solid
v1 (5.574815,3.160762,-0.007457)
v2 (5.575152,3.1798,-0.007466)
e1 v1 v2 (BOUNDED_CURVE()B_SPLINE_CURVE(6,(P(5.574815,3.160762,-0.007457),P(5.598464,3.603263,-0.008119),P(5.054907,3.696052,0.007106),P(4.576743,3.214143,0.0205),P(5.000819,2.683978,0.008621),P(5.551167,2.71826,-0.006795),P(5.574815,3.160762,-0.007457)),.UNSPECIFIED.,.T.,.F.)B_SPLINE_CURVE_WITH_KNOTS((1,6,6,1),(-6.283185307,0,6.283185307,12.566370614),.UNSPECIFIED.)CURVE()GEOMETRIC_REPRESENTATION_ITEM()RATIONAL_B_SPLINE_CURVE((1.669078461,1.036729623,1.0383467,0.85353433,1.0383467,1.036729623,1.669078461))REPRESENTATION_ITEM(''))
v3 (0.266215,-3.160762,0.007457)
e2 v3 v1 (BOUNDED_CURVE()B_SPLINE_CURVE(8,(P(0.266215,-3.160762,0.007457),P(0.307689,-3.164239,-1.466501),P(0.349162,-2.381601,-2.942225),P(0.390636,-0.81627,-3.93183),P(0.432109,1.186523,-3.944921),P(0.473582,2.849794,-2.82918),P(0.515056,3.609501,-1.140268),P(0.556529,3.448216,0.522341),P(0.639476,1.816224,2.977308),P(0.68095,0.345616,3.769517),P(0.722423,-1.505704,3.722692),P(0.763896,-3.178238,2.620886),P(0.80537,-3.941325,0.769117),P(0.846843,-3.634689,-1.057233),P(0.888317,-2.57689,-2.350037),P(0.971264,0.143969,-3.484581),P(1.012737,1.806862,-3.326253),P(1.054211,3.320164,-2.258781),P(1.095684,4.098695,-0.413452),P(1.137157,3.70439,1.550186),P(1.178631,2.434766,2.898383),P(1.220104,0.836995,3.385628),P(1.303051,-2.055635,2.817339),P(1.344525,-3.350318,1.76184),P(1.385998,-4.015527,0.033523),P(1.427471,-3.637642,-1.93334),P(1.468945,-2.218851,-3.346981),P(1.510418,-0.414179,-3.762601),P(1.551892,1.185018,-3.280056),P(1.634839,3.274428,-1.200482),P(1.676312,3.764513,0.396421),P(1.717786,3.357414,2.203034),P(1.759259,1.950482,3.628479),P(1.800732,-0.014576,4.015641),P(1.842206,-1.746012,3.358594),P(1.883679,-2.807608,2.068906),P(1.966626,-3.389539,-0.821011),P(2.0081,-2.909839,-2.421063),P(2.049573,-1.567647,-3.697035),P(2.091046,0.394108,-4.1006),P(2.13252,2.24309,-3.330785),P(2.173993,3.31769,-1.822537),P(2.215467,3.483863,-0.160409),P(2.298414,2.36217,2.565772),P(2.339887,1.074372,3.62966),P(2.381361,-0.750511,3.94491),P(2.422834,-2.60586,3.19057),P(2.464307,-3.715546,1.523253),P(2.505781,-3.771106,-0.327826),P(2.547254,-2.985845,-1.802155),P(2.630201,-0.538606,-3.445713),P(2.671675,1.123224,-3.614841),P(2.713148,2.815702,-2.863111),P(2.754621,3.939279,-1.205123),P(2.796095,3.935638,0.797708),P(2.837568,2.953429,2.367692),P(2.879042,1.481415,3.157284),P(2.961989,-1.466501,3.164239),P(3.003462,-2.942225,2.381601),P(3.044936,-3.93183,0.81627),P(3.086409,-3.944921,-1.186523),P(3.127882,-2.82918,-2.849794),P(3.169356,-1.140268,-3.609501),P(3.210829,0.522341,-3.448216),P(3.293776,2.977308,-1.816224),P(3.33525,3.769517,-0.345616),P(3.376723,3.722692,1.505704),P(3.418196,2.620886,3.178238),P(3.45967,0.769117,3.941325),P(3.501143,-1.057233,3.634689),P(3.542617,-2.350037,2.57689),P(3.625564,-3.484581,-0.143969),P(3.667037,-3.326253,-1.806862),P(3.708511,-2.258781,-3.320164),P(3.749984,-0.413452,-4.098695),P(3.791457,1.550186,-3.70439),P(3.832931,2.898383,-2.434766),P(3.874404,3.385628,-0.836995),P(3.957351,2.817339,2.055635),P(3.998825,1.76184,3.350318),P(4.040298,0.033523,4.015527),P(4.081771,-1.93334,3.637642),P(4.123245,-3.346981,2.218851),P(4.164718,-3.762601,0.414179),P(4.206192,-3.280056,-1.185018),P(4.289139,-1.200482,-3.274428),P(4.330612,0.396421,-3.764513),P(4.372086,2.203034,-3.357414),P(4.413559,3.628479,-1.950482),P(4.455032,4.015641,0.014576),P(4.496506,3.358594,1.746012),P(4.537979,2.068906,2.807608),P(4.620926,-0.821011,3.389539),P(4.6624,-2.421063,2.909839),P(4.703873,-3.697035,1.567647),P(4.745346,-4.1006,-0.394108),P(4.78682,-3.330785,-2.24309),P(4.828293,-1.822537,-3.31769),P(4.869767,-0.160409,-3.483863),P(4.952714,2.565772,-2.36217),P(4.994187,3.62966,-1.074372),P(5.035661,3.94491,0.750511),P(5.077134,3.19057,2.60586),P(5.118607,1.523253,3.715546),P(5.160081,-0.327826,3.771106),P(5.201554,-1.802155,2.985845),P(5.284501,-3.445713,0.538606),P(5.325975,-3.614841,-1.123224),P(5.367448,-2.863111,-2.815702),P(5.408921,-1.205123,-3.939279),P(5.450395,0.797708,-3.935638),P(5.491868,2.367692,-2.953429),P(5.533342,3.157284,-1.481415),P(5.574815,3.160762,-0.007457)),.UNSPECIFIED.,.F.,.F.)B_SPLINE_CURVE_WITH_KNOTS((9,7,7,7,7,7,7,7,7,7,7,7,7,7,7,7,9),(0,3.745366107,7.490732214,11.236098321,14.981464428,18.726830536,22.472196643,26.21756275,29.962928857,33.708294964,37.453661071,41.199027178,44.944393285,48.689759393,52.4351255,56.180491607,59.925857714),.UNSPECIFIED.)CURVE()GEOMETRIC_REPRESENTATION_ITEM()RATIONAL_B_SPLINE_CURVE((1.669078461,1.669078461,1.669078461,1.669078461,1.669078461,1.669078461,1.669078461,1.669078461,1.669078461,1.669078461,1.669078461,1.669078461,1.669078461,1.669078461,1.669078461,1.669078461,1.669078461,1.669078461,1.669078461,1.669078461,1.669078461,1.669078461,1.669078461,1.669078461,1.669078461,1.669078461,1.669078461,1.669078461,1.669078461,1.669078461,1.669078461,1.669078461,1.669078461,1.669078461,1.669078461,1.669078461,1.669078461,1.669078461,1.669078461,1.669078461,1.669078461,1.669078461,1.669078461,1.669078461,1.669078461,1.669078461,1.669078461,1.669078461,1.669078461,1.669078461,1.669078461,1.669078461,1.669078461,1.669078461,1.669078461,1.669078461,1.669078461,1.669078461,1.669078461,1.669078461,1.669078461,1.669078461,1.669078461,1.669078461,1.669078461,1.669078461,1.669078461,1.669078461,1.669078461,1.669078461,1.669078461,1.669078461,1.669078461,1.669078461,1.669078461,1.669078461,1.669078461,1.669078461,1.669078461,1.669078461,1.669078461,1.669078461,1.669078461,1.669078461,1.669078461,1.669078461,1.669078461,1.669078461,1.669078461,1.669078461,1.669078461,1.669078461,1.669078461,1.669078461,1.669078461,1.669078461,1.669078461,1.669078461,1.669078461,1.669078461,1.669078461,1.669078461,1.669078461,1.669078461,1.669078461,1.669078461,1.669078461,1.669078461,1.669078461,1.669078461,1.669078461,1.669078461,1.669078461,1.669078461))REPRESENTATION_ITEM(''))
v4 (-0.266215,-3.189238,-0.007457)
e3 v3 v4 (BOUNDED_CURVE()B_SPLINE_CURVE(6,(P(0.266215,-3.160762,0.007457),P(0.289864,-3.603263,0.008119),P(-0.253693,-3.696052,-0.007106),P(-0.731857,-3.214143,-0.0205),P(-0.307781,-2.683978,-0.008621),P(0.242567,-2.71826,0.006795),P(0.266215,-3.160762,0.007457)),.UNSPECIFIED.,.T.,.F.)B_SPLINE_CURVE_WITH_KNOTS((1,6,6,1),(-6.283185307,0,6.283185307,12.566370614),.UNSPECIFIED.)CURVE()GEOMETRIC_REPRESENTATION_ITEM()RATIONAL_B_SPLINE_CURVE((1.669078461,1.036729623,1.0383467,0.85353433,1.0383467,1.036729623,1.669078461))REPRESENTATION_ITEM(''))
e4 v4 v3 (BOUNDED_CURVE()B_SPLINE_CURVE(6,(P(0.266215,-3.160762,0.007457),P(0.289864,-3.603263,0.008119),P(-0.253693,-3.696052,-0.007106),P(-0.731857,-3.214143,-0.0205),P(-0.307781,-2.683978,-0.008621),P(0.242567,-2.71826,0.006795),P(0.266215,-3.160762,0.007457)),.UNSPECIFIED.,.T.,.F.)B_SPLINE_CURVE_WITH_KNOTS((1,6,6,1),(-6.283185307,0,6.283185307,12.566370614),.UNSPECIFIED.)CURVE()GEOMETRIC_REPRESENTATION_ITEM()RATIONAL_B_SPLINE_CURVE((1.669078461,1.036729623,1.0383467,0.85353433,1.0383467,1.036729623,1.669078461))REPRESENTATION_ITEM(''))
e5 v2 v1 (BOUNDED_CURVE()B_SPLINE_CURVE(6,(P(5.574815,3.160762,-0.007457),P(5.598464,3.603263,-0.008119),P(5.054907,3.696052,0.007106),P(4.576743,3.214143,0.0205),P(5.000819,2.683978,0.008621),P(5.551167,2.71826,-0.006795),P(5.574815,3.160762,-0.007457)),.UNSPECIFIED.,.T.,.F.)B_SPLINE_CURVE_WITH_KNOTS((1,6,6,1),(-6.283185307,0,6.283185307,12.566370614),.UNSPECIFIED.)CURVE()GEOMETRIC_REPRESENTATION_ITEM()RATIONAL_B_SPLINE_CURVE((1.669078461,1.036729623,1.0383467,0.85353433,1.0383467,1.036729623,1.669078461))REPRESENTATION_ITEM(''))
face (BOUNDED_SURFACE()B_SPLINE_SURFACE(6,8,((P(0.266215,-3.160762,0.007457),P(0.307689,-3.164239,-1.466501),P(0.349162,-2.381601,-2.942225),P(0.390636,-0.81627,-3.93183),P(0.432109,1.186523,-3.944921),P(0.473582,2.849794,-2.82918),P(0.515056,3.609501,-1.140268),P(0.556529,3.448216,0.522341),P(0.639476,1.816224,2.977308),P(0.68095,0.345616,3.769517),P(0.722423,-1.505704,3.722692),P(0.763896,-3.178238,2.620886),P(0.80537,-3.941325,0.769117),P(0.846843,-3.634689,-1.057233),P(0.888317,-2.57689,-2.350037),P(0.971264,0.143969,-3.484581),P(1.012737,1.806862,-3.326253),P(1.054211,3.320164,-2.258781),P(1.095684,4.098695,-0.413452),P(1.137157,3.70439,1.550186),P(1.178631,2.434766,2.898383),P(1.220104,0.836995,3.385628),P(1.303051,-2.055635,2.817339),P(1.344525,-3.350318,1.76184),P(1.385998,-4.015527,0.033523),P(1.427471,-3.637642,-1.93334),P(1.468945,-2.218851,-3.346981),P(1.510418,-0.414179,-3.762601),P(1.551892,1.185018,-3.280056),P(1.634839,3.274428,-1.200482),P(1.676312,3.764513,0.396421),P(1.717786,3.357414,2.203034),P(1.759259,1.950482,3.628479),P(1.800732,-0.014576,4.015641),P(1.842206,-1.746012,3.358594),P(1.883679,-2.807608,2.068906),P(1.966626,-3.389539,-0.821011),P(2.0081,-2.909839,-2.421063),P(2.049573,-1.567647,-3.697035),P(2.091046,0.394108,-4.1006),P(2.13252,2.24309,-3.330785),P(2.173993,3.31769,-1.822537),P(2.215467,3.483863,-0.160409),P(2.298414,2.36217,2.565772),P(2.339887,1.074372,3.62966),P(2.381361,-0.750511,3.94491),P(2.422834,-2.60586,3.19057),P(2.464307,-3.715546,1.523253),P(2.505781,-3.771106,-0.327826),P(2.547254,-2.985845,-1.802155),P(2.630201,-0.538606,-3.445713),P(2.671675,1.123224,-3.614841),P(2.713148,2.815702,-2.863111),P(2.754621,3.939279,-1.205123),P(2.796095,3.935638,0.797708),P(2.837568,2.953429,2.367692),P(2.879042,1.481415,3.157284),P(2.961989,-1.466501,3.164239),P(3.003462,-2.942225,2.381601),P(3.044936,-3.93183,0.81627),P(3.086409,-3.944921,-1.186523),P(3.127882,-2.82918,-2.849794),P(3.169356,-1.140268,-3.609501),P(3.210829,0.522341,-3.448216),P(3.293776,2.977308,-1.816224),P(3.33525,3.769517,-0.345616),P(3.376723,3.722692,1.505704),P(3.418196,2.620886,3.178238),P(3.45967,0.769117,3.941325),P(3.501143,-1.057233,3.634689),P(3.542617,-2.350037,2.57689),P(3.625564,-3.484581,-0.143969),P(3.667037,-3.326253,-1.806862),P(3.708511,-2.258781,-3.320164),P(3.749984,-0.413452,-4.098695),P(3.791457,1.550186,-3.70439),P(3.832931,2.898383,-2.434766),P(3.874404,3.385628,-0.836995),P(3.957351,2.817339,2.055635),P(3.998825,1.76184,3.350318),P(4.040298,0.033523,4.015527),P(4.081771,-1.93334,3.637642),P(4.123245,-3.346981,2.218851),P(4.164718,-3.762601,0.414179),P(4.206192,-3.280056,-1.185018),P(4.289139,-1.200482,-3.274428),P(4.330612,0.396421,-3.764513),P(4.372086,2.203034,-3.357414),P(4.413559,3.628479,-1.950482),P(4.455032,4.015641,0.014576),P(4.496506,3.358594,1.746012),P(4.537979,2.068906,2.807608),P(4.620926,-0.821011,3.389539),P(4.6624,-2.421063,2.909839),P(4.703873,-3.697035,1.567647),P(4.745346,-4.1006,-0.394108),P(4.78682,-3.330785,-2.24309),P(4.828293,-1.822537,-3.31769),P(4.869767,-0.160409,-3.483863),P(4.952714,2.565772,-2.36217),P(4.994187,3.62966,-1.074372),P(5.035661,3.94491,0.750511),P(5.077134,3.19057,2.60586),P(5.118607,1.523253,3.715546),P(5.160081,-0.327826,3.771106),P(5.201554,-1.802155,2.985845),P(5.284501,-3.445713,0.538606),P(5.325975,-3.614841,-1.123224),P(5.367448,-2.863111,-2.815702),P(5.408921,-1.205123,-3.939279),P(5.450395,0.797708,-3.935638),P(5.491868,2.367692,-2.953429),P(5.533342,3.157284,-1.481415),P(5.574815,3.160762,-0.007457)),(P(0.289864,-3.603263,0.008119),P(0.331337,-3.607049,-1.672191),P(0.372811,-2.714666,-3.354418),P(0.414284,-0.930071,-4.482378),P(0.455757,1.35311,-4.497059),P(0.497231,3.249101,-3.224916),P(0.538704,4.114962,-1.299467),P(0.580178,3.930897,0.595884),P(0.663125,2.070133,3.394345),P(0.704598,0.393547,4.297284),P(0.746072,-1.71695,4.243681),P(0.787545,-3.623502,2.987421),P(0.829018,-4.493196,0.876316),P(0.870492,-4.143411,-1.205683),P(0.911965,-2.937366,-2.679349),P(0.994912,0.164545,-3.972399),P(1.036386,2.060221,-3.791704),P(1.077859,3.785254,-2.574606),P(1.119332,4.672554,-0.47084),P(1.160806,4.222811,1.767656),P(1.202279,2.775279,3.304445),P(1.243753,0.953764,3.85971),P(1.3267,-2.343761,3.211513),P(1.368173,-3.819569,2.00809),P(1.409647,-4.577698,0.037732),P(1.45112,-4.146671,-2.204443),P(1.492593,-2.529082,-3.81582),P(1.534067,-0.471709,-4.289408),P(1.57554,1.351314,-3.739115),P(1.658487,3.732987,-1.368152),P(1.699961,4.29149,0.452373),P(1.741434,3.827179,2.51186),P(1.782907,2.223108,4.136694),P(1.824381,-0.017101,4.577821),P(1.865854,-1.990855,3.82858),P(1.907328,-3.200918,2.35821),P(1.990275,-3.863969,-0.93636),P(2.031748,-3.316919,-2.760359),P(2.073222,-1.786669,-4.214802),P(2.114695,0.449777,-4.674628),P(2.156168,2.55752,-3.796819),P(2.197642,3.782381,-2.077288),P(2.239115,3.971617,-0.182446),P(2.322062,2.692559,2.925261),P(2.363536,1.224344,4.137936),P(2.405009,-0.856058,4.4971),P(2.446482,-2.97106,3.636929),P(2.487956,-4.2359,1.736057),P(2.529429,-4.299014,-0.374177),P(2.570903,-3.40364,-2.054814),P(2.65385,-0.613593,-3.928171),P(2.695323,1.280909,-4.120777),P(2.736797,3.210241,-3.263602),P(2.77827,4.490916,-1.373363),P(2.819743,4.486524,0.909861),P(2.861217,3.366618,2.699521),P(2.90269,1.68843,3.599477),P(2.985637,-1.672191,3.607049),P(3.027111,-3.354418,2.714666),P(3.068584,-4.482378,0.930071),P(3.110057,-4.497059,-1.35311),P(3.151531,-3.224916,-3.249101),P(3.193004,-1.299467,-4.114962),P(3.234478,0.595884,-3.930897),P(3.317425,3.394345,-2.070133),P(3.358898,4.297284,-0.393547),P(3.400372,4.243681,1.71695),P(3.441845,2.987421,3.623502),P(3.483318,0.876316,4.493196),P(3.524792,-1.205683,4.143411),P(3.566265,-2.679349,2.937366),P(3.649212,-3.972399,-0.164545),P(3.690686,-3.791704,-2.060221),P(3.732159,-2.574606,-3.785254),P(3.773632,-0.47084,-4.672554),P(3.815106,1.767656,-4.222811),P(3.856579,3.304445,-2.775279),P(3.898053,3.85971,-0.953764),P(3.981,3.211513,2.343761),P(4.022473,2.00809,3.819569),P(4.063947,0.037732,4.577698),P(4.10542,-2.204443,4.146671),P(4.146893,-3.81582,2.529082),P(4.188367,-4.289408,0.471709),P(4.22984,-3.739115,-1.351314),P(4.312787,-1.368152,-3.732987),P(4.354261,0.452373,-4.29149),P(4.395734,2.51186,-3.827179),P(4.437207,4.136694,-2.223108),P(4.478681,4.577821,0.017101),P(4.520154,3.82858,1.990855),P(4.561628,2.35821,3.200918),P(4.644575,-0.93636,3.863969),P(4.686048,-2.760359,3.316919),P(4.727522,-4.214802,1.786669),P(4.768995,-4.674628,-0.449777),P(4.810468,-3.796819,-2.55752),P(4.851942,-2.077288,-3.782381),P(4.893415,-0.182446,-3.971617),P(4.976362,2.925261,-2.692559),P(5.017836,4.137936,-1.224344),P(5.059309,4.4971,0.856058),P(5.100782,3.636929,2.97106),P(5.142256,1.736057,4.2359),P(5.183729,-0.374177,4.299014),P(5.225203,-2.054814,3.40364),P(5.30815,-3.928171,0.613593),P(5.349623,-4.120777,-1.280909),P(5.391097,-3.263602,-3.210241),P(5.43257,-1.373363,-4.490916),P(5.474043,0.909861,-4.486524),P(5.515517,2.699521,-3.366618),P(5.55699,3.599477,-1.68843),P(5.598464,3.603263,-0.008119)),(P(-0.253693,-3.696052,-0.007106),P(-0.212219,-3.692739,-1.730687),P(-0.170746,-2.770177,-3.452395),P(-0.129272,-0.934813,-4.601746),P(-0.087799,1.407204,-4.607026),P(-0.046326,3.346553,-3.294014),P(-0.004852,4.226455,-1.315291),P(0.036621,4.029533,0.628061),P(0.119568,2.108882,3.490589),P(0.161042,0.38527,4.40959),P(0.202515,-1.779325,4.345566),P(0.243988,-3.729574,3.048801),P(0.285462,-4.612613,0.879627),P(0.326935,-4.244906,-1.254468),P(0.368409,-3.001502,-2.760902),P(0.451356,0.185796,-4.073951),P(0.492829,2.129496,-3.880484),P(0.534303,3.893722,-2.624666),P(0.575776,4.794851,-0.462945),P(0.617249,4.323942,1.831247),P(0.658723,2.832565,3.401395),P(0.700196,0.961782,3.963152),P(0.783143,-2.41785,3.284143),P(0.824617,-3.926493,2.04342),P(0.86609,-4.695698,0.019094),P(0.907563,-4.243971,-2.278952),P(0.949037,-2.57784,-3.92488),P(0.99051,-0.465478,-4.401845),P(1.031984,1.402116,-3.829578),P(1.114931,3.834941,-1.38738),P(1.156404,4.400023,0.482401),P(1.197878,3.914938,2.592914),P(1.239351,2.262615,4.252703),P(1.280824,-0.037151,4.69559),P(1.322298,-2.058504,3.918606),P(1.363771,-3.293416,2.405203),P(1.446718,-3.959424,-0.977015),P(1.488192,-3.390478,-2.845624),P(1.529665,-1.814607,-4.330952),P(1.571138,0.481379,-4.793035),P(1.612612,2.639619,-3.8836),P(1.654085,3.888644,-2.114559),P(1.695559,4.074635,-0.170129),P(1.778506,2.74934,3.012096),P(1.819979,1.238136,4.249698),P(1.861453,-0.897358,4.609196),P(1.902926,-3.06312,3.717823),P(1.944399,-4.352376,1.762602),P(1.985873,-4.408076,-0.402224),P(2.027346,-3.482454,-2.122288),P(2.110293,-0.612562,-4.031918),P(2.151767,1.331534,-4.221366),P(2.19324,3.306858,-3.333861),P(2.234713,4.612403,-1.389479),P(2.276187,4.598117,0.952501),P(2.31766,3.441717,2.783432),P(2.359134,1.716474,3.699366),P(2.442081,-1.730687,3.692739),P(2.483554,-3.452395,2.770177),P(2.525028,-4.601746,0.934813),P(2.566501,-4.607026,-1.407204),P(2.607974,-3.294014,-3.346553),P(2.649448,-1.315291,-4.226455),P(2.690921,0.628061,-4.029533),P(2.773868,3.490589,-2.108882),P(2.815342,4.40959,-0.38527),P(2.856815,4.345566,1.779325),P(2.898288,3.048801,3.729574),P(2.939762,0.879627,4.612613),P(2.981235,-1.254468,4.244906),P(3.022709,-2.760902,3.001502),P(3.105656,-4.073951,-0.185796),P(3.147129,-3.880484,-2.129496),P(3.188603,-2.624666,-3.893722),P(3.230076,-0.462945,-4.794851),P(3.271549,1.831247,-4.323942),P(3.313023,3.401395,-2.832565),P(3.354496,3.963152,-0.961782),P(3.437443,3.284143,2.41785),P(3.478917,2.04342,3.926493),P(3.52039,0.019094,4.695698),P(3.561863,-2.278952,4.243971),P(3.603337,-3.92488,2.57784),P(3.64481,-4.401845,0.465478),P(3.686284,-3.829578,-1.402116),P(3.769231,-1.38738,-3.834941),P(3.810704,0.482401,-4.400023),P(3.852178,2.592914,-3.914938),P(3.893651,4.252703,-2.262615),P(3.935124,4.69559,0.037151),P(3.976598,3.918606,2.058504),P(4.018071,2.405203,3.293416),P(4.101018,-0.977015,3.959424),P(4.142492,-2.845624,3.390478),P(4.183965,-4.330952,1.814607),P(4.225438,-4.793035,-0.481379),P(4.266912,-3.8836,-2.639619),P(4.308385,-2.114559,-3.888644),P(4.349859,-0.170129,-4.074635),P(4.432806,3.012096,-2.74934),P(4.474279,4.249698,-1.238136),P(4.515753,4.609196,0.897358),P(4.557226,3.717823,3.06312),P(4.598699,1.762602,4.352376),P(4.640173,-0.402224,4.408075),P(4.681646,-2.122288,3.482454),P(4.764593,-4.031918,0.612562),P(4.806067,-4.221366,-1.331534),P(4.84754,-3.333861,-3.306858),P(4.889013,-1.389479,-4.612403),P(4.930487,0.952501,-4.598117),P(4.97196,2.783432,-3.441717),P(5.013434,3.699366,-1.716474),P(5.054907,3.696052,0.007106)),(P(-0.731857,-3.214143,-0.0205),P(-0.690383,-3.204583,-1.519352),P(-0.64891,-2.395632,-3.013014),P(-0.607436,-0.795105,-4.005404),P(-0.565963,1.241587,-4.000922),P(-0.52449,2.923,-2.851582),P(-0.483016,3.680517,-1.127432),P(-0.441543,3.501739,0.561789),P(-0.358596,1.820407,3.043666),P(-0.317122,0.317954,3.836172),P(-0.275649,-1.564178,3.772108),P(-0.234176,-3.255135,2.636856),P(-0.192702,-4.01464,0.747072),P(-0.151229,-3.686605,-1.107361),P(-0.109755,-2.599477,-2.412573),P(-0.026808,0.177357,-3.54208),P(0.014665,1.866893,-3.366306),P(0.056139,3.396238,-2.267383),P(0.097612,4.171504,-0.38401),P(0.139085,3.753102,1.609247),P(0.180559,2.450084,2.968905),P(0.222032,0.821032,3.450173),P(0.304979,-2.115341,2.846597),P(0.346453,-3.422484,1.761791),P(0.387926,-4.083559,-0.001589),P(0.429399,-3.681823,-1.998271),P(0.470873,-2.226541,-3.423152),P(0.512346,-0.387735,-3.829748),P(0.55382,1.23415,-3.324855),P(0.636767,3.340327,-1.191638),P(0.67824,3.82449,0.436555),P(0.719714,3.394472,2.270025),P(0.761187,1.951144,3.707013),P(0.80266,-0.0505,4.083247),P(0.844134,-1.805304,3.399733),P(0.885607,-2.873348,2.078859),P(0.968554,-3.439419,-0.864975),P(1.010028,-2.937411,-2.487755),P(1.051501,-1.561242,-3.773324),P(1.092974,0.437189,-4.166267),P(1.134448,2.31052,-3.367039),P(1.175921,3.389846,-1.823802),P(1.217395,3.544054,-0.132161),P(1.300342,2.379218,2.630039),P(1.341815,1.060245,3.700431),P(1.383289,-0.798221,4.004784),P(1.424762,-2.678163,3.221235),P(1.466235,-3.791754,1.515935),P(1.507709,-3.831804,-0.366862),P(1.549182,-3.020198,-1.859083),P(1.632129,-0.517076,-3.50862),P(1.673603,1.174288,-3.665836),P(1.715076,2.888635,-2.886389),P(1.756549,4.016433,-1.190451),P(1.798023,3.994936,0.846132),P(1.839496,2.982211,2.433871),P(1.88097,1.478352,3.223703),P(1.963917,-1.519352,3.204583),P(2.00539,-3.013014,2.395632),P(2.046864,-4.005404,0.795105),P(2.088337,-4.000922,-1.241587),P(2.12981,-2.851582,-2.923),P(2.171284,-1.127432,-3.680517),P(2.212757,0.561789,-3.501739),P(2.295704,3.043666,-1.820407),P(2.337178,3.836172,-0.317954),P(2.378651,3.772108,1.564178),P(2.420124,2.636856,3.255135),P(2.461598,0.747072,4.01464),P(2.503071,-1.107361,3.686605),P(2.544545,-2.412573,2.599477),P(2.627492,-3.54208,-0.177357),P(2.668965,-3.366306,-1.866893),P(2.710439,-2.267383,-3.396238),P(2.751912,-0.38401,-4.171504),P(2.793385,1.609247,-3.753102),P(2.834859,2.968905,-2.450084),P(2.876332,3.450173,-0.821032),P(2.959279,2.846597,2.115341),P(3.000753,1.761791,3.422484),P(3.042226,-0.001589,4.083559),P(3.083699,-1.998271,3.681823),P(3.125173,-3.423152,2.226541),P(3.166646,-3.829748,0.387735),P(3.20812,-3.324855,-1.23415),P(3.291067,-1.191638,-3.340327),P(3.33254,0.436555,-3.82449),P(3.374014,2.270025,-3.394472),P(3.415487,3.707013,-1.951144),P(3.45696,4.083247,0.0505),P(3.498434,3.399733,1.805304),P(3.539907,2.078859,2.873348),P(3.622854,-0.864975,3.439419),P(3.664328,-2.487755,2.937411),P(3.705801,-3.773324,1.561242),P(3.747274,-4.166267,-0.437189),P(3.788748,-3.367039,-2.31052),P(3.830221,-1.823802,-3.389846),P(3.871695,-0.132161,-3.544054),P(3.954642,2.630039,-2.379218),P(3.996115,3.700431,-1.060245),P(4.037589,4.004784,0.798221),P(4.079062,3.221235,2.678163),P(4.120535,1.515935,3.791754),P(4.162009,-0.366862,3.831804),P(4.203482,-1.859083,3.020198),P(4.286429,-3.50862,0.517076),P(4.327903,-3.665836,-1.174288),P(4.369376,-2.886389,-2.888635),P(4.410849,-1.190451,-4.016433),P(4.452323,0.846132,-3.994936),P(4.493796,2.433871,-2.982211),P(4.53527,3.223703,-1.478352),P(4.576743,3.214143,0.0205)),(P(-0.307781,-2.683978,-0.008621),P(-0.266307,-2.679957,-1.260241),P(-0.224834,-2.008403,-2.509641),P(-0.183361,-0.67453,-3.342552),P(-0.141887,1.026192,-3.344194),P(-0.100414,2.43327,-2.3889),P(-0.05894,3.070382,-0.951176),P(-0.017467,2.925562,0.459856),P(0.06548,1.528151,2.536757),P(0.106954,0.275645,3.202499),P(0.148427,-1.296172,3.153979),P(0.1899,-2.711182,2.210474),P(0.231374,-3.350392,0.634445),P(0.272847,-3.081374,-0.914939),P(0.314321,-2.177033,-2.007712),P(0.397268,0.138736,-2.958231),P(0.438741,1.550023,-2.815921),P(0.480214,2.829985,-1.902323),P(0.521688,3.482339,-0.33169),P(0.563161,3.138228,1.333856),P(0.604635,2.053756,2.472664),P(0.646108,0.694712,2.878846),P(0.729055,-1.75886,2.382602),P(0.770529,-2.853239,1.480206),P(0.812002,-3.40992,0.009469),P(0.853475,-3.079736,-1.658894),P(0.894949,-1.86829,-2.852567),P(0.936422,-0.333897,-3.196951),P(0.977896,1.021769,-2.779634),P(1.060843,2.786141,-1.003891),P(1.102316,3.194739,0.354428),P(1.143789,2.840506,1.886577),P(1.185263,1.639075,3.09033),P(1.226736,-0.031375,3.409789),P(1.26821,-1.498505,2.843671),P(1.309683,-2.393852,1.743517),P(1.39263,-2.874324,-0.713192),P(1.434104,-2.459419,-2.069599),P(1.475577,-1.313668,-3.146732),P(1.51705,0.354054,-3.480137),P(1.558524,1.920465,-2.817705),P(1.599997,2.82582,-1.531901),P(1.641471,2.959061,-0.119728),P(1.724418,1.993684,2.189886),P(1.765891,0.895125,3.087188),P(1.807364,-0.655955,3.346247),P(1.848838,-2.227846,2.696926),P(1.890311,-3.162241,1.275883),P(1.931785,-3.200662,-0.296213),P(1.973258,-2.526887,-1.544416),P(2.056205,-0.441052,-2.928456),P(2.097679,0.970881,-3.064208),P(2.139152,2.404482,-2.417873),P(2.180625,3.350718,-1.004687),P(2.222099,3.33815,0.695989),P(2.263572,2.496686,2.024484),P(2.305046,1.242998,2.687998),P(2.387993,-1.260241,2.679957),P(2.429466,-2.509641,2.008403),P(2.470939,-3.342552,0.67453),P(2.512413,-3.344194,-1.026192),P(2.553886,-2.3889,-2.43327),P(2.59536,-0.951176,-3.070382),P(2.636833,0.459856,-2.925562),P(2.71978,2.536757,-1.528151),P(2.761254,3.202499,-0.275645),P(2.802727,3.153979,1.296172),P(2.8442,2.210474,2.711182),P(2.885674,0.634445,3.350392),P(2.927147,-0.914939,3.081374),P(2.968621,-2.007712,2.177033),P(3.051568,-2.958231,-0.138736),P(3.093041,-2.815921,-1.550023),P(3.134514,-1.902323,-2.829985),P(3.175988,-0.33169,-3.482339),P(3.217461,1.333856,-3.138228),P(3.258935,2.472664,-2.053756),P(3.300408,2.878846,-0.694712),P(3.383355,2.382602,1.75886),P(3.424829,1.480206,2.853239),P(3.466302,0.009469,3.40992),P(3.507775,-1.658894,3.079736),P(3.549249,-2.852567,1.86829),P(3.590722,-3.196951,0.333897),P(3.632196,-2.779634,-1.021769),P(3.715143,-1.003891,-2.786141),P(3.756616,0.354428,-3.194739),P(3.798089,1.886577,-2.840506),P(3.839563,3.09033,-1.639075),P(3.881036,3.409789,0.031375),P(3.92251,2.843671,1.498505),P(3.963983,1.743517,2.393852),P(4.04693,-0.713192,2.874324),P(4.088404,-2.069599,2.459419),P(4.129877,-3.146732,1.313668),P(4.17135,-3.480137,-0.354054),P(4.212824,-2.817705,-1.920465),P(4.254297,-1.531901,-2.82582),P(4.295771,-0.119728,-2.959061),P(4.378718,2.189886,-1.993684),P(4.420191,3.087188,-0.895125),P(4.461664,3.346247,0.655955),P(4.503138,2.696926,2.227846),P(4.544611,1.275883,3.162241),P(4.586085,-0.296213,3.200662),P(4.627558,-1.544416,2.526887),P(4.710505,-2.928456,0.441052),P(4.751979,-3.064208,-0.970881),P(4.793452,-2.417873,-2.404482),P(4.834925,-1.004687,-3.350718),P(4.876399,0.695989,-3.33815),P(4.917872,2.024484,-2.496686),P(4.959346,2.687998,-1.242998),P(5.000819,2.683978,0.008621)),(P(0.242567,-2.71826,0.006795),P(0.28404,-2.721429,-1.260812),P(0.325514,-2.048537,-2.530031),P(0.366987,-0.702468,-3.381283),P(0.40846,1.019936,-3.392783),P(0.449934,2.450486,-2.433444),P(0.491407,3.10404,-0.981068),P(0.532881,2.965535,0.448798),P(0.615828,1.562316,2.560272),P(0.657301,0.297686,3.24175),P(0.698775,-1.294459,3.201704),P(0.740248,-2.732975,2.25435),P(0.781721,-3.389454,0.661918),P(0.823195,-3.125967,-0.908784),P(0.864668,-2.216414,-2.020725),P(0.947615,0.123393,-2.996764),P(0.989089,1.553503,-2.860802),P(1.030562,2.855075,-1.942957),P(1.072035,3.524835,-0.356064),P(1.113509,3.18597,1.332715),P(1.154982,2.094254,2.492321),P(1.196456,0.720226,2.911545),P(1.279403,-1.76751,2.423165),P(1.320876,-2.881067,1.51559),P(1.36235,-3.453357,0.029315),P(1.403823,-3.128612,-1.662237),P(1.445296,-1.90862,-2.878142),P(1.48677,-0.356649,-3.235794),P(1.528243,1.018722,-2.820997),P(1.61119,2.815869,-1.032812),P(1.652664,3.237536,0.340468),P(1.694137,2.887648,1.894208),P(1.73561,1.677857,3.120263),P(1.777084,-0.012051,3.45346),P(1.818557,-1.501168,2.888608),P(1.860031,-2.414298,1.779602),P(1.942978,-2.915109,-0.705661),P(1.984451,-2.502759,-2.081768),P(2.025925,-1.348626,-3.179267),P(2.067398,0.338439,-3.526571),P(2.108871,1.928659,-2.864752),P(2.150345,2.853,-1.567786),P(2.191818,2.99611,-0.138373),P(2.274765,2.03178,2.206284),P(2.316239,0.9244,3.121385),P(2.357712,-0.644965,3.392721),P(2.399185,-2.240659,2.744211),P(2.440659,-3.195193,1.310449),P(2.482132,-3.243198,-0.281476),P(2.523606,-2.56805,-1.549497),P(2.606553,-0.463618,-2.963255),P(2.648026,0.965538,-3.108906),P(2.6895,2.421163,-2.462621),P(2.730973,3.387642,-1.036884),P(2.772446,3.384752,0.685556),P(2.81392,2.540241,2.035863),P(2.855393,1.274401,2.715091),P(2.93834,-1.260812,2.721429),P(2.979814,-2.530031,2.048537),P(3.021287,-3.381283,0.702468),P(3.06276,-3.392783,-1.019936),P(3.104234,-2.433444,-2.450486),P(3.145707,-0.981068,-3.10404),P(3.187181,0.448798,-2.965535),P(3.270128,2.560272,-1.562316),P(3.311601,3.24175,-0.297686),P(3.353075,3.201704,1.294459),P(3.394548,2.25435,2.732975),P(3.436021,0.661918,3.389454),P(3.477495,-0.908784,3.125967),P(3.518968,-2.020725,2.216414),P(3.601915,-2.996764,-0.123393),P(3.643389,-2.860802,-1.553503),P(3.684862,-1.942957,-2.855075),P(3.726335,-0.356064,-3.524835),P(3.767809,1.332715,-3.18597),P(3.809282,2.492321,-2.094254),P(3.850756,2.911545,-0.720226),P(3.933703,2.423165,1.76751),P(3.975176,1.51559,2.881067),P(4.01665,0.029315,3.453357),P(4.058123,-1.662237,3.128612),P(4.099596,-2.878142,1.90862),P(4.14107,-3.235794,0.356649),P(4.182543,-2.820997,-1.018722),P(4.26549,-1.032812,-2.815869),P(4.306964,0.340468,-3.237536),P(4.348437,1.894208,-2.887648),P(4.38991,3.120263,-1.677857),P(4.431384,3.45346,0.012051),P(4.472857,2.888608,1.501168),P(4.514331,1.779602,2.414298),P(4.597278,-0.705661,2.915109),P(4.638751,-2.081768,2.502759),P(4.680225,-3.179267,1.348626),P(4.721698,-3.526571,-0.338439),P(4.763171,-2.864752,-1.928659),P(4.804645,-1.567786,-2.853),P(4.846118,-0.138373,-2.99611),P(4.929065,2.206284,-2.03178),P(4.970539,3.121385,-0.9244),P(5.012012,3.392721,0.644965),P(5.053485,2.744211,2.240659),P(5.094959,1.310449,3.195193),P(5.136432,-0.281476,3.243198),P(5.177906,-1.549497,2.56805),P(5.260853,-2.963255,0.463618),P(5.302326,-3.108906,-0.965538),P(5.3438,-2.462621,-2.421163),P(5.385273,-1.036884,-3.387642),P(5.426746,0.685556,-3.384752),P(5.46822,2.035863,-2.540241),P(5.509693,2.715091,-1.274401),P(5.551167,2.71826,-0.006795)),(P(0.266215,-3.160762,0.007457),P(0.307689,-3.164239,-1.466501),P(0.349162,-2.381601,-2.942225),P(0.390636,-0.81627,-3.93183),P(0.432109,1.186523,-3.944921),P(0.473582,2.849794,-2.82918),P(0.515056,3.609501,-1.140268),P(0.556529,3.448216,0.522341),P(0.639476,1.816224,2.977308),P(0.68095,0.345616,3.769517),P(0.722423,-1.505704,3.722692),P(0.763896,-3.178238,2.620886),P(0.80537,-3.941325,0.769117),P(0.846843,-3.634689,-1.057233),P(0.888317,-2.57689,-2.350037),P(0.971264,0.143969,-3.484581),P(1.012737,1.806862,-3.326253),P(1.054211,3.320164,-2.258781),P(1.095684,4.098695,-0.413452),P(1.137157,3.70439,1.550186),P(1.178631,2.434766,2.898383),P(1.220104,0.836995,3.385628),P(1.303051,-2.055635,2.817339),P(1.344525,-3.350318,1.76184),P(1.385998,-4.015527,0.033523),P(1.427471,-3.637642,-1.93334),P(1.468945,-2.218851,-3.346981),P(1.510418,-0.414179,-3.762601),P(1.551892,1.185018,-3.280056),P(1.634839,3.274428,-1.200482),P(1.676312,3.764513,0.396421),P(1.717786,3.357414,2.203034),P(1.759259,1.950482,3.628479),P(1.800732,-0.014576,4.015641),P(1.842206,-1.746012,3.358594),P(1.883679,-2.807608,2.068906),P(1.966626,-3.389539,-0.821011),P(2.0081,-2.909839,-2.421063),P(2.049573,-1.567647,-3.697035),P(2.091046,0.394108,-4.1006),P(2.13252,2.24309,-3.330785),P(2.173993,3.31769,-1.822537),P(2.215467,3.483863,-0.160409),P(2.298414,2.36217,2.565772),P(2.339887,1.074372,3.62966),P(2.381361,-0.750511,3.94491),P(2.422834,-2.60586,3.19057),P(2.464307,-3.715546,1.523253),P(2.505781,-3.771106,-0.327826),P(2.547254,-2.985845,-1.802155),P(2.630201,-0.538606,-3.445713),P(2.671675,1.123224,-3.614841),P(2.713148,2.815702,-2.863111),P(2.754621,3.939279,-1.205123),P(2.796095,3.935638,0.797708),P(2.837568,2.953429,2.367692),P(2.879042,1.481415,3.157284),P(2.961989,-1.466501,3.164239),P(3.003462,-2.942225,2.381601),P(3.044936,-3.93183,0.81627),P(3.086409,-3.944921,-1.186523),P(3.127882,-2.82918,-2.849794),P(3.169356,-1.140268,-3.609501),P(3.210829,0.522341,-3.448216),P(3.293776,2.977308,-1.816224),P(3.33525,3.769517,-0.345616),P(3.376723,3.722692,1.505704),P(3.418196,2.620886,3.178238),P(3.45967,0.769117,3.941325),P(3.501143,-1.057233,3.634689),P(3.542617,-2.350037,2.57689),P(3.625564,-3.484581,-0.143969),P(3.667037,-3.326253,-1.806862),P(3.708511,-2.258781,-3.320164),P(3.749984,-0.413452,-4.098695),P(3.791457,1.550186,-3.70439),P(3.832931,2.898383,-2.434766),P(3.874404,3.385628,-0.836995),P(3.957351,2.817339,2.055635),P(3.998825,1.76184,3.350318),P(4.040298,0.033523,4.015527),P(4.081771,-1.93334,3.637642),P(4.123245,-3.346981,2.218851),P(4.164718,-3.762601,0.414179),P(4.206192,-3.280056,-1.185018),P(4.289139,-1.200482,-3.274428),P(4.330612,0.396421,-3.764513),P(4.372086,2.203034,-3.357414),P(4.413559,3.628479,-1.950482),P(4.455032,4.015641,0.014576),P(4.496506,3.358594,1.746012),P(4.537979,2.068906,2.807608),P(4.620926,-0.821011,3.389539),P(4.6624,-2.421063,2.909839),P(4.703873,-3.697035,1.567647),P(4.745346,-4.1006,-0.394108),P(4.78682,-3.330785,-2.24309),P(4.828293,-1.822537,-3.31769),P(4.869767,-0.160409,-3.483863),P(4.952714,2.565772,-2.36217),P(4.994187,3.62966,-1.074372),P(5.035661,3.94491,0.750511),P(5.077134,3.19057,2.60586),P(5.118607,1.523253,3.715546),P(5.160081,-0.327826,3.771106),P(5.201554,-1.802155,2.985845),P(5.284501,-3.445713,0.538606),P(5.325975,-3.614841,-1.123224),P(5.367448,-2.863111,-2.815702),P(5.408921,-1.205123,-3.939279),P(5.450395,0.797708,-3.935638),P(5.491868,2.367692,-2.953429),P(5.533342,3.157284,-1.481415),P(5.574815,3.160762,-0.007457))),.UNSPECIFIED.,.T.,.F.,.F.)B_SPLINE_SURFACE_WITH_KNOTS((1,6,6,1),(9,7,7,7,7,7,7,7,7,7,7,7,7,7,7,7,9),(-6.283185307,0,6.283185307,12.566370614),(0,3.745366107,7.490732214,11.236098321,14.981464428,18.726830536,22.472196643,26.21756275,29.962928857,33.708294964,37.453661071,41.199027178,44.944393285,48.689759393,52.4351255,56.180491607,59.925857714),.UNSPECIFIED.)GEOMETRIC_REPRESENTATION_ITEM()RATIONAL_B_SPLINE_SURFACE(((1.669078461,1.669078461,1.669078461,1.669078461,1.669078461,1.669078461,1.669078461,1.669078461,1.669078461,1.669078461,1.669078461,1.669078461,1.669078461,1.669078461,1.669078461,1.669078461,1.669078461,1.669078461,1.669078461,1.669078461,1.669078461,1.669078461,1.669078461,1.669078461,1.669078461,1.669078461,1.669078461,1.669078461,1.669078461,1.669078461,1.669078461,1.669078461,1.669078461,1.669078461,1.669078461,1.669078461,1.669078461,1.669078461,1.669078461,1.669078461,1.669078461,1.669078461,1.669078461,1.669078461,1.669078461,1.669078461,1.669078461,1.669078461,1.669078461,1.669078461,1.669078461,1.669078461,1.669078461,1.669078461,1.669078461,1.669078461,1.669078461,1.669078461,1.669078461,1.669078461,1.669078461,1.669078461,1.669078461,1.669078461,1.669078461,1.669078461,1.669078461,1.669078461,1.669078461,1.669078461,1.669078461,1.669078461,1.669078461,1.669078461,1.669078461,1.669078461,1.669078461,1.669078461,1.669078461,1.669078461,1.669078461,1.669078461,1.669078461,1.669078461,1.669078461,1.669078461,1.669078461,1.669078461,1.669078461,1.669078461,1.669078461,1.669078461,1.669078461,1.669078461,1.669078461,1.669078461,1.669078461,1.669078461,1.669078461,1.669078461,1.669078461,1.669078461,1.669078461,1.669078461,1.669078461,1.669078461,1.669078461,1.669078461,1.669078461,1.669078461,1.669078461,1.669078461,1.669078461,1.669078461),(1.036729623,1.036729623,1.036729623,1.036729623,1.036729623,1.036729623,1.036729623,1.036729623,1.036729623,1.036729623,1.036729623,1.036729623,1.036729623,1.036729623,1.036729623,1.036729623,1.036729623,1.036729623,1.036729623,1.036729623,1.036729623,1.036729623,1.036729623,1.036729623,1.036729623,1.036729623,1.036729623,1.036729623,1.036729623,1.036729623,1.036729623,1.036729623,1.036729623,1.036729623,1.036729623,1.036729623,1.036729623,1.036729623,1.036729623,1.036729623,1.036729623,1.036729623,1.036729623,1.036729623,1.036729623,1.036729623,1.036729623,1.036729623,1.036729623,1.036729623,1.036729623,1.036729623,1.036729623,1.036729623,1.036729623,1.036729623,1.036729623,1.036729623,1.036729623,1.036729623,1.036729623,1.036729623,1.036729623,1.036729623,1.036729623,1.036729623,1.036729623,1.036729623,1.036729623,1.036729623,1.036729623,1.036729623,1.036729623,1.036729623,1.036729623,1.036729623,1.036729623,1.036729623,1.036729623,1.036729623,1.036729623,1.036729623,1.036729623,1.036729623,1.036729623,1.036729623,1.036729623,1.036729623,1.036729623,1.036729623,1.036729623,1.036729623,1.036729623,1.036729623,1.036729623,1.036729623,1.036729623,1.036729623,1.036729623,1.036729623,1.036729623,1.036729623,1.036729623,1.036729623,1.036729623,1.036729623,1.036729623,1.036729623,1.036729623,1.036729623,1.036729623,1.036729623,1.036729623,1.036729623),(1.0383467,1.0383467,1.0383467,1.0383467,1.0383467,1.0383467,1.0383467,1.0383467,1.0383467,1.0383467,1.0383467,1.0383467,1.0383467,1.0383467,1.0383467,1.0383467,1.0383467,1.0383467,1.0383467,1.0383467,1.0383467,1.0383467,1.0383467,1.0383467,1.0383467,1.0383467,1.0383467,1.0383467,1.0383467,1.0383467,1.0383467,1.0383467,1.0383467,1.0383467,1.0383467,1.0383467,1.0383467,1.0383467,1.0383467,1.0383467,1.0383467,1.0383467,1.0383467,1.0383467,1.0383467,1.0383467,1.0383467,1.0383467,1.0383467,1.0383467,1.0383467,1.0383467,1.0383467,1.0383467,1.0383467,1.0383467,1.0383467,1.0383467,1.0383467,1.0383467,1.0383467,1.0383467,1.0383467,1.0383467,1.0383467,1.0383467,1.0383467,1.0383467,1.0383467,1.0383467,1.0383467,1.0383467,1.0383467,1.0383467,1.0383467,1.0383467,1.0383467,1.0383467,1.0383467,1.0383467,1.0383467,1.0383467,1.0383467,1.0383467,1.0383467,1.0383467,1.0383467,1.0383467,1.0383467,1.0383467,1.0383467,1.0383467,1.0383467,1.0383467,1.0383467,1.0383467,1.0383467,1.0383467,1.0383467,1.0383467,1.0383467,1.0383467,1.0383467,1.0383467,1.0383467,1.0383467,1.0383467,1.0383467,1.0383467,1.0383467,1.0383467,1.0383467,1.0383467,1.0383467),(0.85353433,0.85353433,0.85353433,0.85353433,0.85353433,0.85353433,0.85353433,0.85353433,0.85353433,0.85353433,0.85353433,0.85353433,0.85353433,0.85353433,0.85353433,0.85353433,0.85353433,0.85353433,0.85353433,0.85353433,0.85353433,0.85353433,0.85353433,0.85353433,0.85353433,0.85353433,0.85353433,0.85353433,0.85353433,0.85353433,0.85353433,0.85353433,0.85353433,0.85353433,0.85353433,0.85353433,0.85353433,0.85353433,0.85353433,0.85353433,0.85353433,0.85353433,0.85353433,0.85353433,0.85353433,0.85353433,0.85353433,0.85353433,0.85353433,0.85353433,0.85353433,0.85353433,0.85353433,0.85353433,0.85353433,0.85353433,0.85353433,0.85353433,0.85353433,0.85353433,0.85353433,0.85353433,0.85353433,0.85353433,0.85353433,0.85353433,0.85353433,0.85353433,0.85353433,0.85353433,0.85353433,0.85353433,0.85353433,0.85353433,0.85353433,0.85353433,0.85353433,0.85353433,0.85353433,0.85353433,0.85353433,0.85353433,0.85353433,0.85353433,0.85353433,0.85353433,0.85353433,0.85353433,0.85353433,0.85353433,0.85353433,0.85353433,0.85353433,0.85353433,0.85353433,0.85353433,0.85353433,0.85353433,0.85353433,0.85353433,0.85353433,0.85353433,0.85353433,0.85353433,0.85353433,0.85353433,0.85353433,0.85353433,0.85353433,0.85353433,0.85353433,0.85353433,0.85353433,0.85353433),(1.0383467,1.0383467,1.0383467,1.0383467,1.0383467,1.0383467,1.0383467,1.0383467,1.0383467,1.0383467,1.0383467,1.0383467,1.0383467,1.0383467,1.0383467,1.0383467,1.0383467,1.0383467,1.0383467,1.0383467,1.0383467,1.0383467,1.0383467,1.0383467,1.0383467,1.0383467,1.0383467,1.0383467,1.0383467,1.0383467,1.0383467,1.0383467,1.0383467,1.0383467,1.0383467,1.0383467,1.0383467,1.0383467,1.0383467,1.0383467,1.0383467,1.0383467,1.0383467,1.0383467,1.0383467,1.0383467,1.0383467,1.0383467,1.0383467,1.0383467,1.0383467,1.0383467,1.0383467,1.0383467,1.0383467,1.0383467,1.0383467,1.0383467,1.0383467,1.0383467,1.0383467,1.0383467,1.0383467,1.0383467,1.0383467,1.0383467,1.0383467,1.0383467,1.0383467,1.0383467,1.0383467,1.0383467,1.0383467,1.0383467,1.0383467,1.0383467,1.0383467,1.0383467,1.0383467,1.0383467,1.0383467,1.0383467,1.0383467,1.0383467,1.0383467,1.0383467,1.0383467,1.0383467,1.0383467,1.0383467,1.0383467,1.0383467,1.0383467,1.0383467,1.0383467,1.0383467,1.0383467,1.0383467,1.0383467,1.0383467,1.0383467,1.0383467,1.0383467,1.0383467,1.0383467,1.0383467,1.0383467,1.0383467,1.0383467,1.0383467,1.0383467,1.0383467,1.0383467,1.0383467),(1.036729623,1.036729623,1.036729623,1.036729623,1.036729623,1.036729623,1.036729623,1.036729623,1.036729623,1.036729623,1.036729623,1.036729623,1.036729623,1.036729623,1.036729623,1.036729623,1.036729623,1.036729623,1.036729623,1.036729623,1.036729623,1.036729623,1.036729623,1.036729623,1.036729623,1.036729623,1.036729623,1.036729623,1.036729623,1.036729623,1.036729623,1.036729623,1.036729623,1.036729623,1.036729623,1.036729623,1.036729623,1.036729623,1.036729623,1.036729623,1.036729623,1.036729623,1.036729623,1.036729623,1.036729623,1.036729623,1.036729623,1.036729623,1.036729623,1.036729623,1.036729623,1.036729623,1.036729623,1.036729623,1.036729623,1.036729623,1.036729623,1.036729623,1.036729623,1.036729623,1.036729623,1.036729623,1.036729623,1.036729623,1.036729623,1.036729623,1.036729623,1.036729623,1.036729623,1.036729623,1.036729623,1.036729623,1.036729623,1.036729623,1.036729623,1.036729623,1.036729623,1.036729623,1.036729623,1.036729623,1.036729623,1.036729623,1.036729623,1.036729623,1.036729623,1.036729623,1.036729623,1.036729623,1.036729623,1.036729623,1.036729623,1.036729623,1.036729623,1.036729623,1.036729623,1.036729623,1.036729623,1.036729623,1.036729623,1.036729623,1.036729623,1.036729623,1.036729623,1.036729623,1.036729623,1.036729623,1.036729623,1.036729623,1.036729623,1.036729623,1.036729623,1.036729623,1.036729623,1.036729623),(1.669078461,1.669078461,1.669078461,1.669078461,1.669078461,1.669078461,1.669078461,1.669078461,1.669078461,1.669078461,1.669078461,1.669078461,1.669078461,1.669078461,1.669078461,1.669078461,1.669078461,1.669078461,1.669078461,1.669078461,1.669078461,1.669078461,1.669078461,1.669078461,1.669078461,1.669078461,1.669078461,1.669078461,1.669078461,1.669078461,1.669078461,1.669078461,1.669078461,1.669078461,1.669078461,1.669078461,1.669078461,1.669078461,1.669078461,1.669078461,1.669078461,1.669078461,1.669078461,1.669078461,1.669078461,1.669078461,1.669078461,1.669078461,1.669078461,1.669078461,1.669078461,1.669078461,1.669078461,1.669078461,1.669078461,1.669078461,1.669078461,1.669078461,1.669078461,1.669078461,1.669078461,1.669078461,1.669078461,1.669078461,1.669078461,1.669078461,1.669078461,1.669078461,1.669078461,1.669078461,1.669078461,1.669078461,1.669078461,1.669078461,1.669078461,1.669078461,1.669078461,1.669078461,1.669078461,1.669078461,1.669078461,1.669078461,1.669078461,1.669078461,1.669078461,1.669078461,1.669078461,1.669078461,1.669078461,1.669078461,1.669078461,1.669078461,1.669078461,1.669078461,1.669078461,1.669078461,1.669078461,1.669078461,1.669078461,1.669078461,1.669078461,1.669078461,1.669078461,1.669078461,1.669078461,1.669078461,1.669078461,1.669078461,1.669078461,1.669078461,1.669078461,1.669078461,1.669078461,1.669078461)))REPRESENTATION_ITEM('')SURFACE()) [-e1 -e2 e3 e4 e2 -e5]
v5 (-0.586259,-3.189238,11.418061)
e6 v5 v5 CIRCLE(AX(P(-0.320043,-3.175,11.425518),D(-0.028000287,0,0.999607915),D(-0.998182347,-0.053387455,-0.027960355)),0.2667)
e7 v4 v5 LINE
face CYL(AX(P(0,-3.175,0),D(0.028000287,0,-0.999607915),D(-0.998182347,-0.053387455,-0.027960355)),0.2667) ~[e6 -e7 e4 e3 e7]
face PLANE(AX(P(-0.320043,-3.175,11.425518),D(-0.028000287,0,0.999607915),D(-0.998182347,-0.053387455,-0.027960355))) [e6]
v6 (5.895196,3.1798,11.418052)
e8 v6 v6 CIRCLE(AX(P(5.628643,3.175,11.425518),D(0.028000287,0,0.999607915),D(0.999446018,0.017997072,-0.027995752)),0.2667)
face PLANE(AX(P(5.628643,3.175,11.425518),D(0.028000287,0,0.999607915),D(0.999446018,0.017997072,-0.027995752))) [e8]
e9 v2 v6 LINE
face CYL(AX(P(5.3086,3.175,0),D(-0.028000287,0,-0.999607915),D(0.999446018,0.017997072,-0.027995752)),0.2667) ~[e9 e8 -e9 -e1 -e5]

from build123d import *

# Parameters (mm, degrees)
SWEEP1_PITCH       = 0.5588
SWEEP1_HEIGHT      = 5.3086
SWEEP1_RADIUS      = 3.175
SWEEP1_START_ANGLE = 90
SKETCH2_R          = 0.2667
SKETCH3_R          = 0.2667
EXTRUDE1_DEPTH     = 11.43
SKETCH4_R          = 0.2667
EXTRUDE2_DEPTH     = 11.43


with BuildPart() as part:
    # Sweep1: sweep along a helix
    with BuildLine() as sweep1_path:
        add(Helix(SWEEP1_PITCH, SWEEP1_HEIGHT, SWEEP1_RADIUS, center=(0, 0, 0), direction=(1, 0, 0), mode=Mode.PRIVATE).rotate(Axis((0, 0, 0), (1, 0, 0)), SWEEP1_START_ANGLE))
    # Sketch2 → Sweep1 (sweep)
    with BuildSketch(Plane(origin=(0, -3.175, 0), x_dir=(0.998182347, 0.053387455, 0.027960355), z_dir=(0.028000287, 0, -0.999607915))):
        Circle(SKETCH2_R)
    sweep(path=sweep1_path.line, is_frenet=True)

    # Sketch3 → Extrude1 (add)
    with BuildSketch(Plane(origin=(0, 0, 0), x_dir=(-0.998182347, -0.053387455, -0.027960355), z_dir=(-0.028000287, 0, 0.999607915))):
        with Locations((0.169505171, 3.170472046)):
            Circle(SKETCH3_R)
    extrude(amount=EXTRUDE1_DEPTH)

    # Sketch4 → Extrude2 (add)
    with BuildSketch(Plane(origin=(0.004162028, 0, 0.148584044), x_dir=(0.999446018, 0.017997072, -0.027995752), z_dir=(0.028000287, 0, 0.999607915))):
        with Locations((5.362799835, 3.07898398)):
            Circle(SKETCH4_R)
    extrude(amount=EXTRUDE2_DEPTH)


solid = part.part
